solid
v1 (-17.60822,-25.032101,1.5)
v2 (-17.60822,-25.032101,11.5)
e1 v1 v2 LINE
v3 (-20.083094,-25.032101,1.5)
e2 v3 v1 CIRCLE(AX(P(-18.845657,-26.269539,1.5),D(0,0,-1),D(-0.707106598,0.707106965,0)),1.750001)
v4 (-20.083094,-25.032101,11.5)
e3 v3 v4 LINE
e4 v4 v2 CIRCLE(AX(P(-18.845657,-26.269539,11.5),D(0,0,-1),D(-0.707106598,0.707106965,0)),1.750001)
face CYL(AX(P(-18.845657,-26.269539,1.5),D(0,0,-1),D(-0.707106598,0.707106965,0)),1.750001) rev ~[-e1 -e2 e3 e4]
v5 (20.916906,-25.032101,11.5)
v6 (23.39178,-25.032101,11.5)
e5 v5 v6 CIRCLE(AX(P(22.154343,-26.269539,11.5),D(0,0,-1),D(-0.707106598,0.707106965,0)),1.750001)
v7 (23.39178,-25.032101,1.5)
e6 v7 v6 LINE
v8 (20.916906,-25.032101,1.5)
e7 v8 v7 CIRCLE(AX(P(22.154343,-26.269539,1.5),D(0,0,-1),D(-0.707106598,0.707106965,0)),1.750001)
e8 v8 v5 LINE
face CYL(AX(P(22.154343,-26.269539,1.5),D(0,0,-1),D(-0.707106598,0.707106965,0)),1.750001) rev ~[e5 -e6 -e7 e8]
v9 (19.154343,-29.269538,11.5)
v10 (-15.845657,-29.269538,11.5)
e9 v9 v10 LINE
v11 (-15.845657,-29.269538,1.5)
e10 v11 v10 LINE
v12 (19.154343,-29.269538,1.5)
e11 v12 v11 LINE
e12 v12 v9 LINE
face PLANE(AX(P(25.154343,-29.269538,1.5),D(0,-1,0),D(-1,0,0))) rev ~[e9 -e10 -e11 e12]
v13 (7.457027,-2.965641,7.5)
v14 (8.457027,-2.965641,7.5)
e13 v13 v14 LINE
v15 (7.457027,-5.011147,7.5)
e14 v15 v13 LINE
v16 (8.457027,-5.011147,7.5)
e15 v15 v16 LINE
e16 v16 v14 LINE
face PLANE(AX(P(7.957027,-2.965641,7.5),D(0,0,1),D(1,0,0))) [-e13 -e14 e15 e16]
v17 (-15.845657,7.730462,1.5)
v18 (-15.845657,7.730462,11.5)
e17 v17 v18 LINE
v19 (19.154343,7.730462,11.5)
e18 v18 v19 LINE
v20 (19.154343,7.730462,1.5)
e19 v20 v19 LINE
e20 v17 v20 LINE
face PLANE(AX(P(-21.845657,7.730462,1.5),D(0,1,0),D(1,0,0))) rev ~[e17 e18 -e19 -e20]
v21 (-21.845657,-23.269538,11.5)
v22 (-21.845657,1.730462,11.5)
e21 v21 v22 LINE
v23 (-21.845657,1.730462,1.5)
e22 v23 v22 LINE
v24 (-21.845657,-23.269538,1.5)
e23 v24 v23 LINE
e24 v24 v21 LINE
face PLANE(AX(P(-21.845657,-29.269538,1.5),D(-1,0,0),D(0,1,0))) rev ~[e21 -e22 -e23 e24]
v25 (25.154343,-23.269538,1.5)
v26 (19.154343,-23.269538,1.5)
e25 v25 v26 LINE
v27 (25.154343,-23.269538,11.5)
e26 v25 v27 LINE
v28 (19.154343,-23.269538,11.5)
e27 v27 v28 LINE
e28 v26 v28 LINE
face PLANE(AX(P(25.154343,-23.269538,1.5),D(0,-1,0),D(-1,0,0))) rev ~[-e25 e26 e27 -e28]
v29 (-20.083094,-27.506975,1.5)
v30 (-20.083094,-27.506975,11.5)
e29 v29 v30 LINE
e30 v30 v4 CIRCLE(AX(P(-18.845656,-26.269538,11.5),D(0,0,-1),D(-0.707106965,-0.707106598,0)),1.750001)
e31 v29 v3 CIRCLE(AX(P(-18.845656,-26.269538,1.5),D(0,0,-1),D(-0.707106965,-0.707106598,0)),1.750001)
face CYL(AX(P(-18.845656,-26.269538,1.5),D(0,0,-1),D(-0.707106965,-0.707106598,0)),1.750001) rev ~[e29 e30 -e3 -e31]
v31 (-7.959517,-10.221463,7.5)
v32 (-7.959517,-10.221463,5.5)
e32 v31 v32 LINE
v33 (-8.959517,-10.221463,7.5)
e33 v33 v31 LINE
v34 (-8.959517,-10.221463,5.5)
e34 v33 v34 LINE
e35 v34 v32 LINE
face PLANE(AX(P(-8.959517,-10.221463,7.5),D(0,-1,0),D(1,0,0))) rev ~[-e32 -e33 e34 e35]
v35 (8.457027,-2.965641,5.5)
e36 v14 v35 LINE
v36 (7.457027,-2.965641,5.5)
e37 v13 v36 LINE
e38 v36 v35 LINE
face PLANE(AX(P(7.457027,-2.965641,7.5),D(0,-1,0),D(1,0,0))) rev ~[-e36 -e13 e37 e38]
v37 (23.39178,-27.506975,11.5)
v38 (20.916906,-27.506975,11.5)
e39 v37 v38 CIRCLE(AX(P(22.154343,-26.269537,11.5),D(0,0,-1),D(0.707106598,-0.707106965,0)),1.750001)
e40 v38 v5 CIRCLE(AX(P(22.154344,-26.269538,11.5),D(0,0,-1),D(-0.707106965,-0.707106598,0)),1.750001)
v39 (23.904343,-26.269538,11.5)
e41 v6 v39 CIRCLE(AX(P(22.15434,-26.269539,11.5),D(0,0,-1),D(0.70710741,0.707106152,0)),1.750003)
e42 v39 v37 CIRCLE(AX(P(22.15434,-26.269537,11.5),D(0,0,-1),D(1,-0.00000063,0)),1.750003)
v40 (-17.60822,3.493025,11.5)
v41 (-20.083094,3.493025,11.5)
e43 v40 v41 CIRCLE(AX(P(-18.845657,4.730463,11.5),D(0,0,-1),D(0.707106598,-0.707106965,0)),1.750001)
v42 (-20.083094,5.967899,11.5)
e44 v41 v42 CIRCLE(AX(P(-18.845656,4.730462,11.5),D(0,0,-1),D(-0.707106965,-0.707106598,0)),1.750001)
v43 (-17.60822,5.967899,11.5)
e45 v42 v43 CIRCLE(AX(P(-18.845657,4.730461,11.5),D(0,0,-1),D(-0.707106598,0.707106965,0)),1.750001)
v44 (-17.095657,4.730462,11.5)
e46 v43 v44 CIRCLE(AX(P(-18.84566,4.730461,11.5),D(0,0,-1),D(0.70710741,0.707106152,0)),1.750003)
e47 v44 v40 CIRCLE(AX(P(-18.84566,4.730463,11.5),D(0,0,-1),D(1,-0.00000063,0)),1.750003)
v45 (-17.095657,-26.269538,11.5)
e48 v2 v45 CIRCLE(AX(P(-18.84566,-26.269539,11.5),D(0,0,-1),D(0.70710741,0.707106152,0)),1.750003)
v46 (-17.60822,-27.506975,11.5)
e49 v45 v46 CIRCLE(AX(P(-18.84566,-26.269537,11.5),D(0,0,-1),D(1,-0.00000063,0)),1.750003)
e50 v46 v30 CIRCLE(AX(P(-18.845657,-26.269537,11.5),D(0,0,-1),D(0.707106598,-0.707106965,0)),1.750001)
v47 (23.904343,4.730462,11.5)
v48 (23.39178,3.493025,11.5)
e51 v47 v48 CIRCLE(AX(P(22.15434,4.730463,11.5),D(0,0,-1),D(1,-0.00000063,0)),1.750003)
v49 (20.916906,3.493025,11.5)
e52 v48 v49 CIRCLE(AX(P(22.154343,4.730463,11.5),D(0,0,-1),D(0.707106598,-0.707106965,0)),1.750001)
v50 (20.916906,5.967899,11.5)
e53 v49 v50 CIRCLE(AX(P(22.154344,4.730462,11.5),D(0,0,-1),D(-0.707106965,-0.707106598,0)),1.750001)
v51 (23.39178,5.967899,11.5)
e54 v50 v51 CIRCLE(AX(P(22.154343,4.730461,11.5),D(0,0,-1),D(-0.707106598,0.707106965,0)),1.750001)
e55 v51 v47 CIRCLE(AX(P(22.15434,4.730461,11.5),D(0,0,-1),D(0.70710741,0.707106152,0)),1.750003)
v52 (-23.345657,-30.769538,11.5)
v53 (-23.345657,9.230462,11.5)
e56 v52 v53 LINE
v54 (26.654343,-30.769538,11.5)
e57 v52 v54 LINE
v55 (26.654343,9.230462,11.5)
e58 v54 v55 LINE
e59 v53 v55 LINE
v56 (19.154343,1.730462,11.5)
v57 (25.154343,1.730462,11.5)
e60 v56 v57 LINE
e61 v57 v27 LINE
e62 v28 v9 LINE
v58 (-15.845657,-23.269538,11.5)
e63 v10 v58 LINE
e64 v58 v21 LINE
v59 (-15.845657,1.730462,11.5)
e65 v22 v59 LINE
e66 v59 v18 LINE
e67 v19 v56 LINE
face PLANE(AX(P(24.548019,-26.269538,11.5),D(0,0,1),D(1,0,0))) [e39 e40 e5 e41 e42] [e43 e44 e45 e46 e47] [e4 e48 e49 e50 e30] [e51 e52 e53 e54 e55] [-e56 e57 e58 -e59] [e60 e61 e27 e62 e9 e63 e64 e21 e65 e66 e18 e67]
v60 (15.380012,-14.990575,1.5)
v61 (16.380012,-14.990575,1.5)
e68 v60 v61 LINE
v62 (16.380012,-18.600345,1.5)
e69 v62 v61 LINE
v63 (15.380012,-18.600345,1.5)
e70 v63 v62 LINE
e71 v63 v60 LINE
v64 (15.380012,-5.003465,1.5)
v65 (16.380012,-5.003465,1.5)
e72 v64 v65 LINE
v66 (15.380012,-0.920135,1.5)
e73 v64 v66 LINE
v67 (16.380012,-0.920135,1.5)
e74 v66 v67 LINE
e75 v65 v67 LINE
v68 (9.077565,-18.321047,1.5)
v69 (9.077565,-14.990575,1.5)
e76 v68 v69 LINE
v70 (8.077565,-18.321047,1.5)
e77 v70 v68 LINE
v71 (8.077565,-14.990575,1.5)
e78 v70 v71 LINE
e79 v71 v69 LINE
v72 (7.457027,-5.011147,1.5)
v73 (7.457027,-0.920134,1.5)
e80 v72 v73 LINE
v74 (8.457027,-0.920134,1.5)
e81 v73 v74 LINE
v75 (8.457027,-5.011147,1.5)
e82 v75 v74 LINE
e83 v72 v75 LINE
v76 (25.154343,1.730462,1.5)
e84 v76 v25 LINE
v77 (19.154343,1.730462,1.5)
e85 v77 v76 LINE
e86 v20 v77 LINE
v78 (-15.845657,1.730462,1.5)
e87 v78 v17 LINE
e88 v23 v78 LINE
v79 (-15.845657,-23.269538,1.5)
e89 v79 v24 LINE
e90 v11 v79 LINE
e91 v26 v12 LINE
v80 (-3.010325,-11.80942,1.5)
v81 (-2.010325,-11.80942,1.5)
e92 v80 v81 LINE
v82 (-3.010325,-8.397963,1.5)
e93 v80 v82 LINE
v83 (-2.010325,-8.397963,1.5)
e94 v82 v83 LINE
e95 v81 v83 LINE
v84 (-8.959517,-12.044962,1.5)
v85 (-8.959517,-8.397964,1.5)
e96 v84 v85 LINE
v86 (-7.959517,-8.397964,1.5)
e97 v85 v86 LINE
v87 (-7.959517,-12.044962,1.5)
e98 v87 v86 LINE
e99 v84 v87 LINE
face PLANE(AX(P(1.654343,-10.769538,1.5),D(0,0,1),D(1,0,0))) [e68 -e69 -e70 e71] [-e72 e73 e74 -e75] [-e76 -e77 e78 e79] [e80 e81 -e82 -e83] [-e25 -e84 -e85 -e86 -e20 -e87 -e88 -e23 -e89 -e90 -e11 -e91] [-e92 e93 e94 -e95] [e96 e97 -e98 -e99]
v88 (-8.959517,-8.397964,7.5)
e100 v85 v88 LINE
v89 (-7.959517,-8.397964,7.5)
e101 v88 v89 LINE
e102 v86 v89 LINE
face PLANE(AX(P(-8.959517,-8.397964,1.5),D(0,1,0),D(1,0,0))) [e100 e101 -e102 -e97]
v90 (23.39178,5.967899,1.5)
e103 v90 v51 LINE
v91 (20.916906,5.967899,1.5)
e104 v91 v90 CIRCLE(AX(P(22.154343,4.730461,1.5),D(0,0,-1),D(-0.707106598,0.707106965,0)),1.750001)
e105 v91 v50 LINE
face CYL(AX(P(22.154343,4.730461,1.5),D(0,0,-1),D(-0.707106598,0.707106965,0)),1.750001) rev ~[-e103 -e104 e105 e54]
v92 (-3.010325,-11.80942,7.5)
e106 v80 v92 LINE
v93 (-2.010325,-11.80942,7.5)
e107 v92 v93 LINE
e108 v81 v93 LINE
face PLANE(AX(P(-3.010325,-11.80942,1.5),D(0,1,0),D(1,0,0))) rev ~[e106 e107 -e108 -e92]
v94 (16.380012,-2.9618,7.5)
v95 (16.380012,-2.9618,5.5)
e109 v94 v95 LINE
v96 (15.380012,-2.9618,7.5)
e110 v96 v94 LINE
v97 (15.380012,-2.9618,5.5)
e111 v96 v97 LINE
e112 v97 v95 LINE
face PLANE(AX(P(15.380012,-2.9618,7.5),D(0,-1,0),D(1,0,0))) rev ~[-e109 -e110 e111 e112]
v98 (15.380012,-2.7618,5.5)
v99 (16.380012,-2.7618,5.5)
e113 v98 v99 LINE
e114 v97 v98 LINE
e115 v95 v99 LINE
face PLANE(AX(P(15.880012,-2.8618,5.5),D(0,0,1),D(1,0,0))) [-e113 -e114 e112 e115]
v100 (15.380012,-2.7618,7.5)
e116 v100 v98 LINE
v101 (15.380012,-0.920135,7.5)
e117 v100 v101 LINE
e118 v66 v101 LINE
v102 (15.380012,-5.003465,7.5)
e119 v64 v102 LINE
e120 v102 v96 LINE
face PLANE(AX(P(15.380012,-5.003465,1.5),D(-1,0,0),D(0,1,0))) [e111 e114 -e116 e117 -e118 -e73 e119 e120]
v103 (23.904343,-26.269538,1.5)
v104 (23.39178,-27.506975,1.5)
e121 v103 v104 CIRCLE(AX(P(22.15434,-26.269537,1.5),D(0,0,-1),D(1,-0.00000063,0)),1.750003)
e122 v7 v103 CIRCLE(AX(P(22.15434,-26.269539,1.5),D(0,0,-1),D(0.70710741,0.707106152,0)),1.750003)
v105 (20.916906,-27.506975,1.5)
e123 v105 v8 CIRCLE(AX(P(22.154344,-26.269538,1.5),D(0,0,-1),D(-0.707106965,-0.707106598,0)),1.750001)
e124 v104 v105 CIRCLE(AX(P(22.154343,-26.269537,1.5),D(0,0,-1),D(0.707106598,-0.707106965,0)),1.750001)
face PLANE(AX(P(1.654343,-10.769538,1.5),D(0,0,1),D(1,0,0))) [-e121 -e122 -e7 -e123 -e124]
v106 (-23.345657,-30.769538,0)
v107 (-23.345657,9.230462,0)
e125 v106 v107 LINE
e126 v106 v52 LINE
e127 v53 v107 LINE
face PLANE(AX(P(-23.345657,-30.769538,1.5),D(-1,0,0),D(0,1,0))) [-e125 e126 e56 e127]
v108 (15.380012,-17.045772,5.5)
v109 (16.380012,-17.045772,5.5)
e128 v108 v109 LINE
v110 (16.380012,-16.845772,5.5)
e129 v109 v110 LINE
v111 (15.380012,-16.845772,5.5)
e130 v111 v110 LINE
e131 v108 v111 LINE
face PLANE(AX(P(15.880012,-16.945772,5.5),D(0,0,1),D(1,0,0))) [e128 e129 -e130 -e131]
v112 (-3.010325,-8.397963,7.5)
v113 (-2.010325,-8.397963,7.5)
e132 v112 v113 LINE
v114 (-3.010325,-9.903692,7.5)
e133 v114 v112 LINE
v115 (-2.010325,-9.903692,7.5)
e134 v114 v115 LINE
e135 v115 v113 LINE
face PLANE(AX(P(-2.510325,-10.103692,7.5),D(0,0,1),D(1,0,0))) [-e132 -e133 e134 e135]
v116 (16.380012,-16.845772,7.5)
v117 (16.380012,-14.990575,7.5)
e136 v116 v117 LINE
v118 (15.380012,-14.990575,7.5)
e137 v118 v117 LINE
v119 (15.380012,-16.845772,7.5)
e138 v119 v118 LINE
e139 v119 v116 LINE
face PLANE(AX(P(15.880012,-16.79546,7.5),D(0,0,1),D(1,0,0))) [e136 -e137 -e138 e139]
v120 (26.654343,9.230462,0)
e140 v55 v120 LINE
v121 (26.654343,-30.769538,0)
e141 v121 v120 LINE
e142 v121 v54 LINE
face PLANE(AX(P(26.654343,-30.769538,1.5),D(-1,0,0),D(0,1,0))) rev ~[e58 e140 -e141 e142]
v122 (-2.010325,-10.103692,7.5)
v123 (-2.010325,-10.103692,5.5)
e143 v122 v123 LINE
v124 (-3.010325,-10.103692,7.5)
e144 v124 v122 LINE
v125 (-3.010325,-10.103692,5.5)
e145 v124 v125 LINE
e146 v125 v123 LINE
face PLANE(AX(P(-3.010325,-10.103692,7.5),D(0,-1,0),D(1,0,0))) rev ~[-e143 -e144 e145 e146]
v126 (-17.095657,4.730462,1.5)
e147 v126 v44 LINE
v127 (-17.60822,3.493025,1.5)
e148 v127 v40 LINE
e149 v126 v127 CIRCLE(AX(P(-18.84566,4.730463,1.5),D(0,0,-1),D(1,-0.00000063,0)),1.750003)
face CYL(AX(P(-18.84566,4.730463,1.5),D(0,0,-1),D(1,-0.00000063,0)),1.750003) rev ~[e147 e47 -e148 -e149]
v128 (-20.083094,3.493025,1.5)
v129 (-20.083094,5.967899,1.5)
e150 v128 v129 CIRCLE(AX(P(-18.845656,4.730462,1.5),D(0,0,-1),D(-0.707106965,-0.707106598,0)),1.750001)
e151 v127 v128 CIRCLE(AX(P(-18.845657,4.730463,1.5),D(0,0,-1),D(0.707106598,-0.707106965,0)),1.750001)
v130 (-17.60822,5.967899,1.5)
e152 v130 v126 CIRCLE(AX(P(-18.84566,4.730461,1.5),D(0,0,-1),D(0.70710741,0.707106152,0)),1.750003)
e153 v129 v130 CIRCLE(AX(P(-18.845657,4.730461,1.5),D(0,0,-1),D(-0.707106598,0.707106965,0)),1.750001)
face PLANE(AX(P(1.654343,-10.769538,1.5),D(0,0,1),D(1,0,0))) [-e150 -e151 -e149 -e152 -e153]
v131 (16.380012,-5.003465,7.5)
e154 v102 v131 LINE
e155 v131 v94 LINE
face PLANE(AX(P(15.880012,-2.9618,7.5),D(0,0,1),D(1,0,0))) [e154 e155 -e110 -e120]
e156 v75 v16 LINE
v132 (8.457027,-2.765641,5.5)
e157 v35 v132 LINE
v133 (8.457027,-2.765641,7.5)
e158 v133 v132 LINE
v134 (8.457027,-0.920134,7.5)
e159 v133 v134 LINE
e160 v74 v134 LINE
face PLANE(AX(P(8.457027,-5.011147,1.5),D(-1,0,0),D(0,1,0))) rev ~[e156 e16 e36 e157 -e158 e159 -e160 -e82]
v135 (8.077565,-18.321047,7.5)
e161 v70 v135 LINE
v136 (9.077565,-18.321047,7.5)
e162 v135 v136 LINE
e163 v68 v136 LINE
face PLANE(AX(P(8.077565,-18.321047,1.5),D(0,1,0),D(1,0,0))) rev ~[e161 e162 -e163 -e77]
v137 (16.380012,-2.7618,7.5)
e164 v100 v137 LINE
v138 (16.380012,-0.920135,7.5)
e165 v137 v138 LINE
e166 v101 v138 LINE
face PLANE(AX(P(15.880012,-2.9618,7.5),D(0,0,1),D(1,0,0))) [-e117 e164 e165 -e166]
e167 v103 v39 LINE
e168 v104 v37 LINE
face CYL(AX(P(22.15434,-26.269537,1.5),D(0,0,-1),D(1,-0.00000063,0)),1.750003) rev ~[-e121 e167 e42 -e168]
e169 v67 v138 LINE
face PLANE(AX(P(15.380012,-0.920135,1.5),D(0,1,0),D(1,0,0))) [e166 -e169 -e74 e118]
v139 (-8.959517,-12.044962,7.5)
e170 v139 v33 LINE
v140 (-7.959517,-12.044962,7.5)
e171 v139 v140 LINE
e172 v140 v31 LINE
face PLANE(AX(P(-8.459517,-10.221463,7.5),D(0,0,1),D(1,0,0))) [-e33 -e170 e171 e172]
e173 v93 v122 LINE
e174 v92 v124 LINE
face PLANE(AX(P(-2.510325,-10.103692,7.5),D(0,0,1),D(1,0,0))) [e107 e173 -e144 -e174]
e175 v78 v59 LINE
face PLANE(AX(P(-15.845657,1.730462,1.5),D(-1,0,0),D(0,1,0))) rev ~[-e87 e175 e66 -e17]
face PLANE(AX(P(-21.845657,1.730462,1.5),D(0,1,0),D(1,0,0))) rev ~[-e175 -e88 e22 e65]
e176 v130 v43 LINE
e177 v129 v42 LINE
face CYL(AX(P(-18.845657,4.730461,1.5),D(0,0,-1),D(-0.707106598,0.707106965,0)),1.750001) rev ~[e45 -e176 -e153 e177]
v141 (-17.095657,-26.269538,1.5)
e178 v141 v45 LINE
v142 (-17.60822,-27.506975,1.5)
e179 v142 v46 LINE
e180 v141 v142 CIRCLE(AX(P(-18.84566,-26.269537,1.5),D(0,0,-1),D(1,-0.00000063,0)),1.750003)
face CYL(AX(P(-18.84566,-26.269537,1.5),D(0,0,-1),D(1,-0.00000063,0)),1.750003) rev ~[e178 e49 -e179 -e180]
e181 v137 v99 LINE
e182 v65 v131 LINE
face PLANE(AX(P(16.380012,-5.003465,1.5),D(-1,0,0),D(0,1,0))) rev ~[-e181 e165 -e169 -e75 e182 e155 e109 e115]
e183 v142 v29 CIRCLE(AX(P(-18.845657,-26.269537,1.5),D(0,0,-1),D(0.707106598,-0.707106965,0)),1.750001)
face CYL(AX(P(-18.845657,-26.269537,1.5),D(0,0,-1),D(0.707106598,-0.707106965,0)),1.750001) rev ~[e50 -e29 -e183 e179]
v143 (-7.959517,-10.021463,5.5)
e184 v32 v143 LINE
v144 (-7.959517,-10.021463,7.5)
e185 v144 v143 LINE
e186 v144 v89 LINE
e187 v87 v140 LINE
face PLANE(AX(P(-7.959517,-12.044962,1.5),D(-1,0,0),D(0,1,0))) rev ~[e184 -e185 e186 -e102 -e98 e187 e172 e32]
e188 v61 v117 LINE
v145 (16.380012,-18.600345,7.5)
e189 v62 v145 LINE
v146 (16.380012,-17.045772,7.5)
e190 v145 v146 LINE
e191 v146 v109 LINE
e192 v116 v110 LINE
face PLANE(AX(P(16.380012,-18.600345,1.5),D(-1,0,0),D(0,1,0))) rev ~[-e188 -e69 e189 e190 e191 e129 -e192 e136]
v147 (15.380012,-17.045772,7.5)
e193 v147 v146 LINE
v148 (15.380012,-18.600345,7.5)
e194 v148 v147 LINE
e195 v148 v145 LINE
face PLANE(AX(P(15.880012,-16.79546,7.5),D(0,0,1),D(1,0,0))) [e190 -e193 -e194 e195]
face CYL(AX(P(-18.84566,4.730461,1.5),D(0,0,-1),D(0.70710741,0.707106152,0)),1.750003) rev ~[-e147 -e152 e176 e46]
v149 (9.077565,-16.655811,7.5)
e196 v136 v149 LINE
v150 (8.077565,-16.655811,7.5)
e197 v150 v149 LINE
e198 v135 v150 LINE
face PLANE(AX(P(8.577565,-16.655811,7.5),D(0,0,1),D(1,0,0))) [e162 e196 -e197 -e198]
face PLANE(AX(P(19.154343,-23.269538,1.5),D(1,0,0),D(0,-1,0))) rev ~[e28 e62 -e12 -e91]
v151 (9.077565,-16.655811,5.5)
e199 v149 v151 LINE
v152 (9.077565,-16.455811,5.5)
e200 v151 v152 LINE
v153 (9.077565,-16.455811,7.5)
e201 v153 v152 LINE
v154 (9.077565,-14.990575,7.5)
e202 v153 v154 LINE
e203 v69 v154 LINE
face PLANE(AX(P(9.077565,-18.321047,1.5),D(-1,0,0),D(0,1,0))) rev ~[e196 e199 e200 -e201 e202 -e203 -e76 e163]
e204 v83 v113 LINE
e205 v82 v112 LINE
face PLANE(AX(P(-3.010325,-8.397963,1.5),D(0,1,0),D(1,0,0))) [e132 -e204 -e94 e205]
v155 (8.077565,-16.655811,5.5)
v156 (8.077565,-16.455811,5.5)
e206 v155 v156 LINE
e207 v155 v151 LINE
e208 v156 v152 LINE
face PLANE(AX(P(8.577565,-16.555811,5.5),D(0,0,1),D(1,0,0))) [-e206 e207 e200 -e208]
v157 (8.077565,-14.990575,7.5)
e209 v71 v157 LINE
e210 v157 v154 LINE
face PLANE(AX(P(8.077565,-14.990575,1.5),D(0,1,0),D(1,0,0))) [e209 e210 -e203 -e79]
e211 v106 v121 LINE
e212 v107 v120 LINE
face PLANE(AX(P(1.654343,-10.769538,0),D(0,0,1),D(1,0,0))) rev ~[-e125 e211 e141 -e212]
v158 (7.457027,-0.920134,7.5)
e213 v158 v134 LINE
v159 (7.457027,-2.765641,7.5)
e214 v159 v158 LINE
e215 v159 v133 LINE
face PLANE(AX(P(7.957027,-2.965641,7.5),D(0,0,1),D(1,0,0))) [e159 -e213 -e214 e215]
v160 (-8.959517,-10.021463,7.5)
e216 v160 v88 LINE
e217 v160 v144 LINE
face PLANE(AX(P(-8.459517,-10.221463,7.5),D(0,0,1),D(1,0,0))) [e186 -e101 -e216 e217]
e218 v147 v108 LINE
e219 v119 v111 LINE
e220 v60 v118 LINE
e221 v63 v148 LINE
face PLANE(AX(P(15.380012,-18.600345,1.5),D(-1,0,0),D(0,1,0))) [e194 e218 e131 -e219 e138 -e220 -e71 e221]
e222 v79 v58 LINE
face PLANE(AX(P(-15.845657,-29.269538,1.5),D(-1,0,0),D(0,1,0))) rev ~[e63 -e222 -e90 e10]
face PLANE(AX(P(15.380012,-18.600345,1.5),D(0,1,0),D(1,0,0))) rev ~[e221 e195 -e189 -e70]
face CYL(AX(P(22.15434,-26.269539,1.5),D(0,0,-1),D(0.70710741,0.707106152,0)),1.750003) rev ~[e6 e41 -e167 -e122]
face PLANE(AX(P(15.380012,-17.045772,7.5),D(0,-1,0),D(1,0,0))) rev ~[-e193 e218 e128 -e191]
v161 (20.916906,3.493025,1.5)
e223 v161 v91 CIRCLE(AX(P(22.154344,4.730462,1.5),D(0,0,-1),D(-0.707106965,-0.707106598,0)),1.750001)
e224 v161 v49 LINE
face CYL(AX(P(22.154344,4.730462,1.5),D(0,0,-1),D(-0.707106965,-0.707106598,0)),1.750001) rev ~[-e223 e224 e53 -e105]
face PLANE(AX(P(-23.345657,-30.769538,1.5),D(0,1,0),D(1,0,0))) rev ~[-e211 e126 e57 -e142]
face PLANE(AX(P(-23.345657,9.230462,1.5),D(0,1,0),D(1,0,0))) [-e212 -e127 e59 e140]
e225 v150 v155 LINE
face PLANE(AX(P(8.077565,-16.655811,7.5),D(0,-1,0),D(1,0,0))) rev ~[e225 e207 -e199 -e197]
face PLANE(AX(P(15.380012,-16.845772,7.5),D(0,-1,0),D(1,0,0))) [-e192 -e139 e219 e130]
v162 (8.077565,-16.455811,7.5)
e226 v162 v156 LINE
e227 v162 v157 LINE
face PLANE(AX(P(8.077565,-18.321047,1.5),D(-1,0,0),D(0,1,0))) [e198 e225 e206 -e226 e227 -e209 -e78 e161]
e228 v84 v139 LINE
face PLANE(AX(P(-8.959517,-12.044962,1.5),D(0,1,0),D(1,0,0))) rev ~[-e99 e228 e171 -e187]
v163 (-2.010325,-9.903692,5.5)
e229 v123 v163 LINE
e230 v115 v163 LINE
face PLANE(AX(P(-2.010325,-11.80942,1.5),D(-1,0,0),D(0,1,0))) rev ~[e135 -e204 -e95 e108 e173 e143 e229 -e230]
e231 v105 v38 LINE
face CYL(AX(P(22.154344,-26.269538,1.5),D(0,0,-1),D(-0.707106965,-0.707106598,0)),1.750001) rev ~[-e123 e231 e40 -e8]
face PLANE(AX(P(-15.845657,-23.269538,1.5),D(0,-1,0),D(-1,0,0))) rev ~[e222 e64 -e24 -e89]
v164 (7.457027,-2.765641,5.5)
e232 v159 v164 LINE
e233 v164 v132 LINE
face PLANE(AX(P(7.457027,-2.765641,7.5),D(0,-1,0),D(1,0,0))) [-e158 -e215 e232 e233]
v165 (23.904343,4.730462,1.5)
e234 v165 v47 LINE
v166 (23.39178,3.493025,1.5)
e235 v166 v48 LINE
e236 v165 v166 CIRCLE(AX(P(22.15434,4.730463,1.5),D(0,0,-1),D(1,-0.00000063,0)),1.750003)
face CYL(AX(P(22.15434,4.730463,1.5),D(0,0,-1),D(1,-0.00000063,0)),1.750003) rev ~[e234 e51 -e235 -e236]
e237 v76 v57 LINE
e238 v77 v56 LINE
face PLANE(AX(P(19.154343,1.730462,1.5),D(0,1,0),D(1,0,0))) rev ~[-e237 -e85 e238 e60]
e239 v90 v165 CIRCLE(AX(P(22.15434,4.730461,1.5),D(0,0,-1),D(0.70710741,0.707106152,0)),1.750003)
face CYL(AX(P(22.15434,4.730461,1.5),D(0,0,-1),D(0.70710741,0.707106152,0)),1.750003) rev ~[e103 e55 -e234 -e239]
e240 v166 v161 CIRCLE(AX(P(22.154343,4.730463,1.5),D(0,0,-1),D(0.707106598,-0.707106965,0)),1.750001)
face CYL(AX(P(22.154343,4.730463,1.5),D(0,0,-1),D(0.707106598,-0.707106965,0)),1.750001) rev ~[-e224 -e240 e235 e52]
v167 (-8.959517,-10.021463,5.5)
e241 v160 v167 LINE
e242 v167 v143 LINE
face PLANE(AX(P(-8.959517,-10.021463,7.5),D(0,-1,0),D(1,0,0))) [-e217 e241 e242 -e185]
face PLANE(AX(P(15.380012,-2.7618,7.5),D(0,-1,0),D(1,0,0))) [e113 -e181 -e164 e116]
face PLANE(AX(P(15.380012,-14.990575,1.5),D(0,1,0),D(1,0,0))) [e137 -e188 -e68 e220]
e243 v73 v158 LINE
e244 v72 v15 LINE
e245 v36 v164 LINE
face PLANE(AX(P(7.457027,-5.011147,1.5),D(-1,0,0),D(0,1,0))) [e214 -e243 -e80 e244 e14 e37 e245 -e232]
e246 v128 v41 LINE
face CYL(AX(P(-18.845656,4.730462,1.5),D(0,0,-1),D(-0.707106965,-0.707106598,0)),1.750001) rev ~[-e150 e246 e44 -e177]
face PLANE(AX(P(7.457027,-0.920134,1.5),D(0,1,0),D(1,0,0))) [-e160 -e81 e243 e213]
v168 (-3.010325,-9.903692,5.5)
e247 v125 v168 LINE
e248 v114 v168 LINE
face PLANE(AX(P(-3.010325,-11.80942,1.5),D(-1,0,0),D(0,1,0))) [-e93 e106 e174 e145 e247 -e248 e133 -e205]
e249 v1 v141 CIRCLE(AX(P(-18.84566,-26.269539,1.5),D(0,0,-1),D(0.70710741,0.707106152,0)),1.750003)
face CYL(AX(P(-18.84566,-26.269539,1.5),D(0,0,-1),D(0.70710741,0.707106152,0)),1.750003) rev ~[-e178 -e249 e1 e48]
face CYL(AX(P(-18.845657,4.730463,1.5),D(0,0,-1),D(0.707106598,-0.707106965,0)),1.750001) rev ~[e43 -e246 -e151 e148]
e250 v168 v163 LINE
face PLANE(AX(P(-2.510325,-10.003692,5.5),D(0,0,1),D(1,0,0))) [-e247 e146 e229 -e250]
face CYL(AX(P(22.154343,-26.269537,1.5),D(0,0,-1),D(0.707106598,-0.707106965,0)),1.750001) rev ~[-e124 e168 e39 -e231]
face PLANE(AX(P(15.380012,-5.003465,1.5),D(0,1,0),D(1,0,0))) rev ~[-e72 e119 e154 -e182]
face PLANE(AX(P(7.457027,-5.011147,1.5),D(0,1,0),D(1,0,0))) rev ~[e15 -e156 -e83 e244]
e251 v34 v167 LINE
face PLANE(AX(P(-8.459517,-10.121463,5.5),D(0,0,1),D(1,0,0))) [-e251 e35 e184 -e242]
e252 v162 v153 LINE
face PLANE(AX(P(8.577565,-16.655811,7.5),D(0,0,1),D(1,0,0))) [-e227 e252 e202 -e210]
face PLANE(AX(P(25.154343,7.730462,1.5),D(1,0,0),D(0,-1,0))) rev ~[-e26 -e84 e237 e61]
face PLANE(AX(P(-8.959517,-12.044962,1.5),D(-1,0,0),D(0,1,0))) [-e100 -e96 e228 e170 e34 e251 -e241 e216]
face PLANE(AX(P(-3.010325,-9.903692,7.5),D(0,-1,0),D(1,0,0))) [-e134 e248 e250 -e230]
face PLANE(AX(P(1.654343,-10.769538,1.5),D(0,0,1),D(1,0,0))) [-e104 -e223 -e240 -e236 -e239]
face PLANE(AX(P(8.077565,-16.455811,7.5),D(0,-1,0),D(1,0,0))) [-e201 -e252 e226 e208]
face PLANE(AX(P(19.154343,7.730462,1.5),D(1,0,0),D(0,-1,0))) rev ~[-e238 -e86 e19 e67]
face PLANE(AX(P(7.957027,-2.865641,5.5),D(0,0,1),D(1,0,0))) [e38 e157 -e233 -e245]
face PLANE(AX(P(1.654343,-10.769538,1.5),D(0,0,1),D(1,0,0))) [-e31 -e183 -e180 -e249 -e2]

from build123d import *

# Parameters (mm, degrees)
F0_W      = 50
F0_H      = 40
F1_DEPTH  = 1.5
F2_W      = 50
F2_H      = 40
F3_DEPTH  = 10
F5_DEPTH  = 10
F7_DEPTH  = 10
F9_DEPTH  = 10
F11_DEPTH = 10
F14_W     = 1
F14_H     = 4.08333
F15_DEPTH = 6
F16_W     = 1
F16_H     = 0.2
F17_DEPTH = 2
F18_W     = 1
F18_H     = 3.60977
F19_DEPTH = 6
F20_W     = 1
F20_H     = 0.2
F21_DEPTH = 2
F22_W     = 1
F22_H     = 4.091013
F23_DEPTH = 6
F24_W     = 1
F24_H     = 0.2
F25_DEPTH = 2
F26_W     = 1
F26_H     = 3.330472
F27_DEPTH = 6
F28_W     = 1
F28_H     = 0.2
F29_DEPTH = 2
F30_W     = 1
F30_H     = 3.411457
F31_DEPTH = 6
F32_W     = 1
F32_H     = 0.2
F33_DEPTH = 2
F34_W     = 1
F34_H     = 3.646998
F35_DEPTH = 6
F36_W     = 1
F36_H     = 0.2
F37_DEPTH = 2


with BuildPart() as f1:
    # F0 (on Top) → F1 (new body)
    with BuildSketch(Plane.XY):
        with Locations((1.654343, -10.769538)):
            Rectangle(F0_W, F0_H)
    extrude(amount=F1_DEPTH)

    # F2 (on face) → F3 (join)
    with BuildSketch(Plane.XY.offset(1.5)):
        with Locations((1.654343, -10.769538)):
            Rectangle(F2_W, F2_H)
        Polygon((-21.845657, -29.269538), (-21.845657, 7.730462), (19.154343, 7.730462), (25.154343, 7.730462), (25.154343, 1.730462), (25.154343, -29.269538), align=None, mode=Mode.SUBTRACT)
    extrude(amount=F3_DEPTH)

    # F4 (on face) → F5 (join)
    with BuildSketch(Plane.XY.offset(1.5)):
        with BuildLine():
            Line((-20.083094, 5.967899), (-21.845657, 7.730462))
            Line((-21.845657, 7.730462), (-21.845657, 1.730462))
            Line((-21.845657, 1.730462), (-20.083094, 3.493025))
            ThreePointArc((-20.083094, 3.493025), (-20.595657, 4.730462), (-20.083094, 5.967899))
        make_face()
        with BuildLine():
            Line((-15.845657, 7.730462), (-21.845657, 7.730462))
            Line((-21.845657, 7.730462), (-20.083094, 5.967899))
            ThreePointArc((-20.083094, 5.967899), (-18.845657, 6.480462), (-17.60822, 5.967899))
            Line((-17.60822, 5.967899), (-15.845657, 7.730462))
        make_face()
        with BuildLine():
            Line((-15.845657, 1.730462), (-15.845657, 7.730462))
            Line((-15.845657, 7.730462), (-17.60822, 5.967899))
            ThreePointArc((-17.60822, 5.967899), (-17.228868, 5.400158), (-17.095657, 4.730462))
            ThreePointArc((-17.095657, 4.730462), (-17.228868, 4.060766), (-17.60822, 3.493025))
            Line((-17.60822, 3.493025), (-15.845657, 1.730462))
        make_face()
        with BuildLine():
            Line((-20.083094, 3.493025), (-21.845657, 1.730462))
            Line((-21.845657, 1.730462), (-15.845657, 1.730462))
            Line((-15.845657, 1.730462), (-17.60822, 3.493025))
            ThreePointArc((-17.60822, 3.493025), (-18.845657, 2.980462), (-20.083094, 3.493025))
        make_face()
    extrude(amount=F5_DEPTH)

    # F6 (on face) → F7 (join)
    with BuildSketch(Plane.XY.offset(1.5)):
        with BuildLine():
            Line((-20.083094, -27.506975), (-21.845657, -29.269538))
            Line((-21.845657, -29.269538), (-15.845657, -29.269538))
            Line((-15.845657, -29.269538), (-17.60822, -27.506975))
            ThreePointArc((-17.60822, -27.506975), (-18.845657, -28.019538), (-20.083094, -27.506975))
        make_face()
        with BuildLine():
            Line((-21.845657, -23.269538), (-21.845657, -29.269538))
            Line((-21.845657, -29.269538), (-20.083094, -27.506975))
            ThreePointArc((-20.083094, -27.506975), (-20.595657, -26.269538), (-20.083094, -25.032101))
            Line((-20.083094, -25.032101), (-21.845657, -23.269538))
        make_face()
        with BuildLine():
            Line((-17.60822, -27.506975), (-15.845657, -29.269538))
            Line((-15.845657, -29.269538), (-15.845657, -23.269538))
            Line((-15.845657, -23.269538), (-17.60822, -25.032101))
            ThreePointArc((-17.60822, -25.032101), (-17.228868, -25.599842), (-17.095657, -26.269538))
            ThreePointArc((-17.095657, -26.269538), (-17.228868, -26.939234), (-17.60822, -27.506975))
        make_face()
        with BuildLine():
            Line((-15.845657, -23.269538), (-21.845657, -23.269538))
            Line((-21.845657, -23.269538), (-20.083094, -25.032101))
            ThreePointArc((-20.083094, -25.032101), (-18.845657, -24.519538), (-17.60822, -25.032101))
            Line((-17.60822, -25.032101), (-15.845657, -23.269538))
        make_face()
    extrude(amount=F7_DEPTH)

    # F8 (on face) → F9 (join)
    with BuildSketch(Plane.XY.offset(1.5)):
        with BuildLine():
            Line((23.39178, 5.967899), (25.154343, 7.730462))
            Line((25.154343, 7.730462), (19.154343, 7.730462))
            Line((19.154343, 7.730462), (20.916906, 5.967899))
            ThreePointArc((20.916906, 5.967899), (22.154343, 6.480462), (23.39178, 5.967899))
        make_face()
        with BuildLine():
            Line((25.154343, 1.730462), (25.154343, 7.730462))
            Line((25.154343, 7.730462), (23.39178, 5.967899))
            ThreePointArc((23.39178, 5.967899), (23.771132, 5.400158), (23.904343, 4.730462))
            ThreePointArc((23.904343, 4.730462), (23.771132, 4.060766), (23.39178, 3.493025))
            Line((23.39178, 3.493025), (25.154343, 1.730462))
        make_face()
        with BuildLine():
            Line((20.916906, 5.967899), (19.154343, 7.730462))
            Line((19.154343, 7.730462), (19.154343, 1.730462))
            Line((19.154343, 1.730462), (20.916906, 3.493025))
            ThreePointArc((20.916906, 3.493025), (20.404343, 4.730462), (20.916906, 5.967899))
        make_face()
        with BuildLine():
            Line((19.154343, 1.730462), (25.154343, 1.730462))
            Line((25.154343, 1.730462), (23.39178, 3.493025))
            ThreePointArc((23.39178, 3.493025), (22.154343, 2.980462), (20.916906, 3.493025))
            Line((20.916906, 3.493025), (19.154343, 1.730462))
        make_face()
    extrude(amount=F9_DEPTH)

    # F10 (on face) → F11 (join)
    with BuildSketch(Plane.XY.offset(1.5)):
        with BuildLine():
            Line((23.39178, -27.506975), (25.154343, -29.269538))
            Line((25.154343, -29.269538), (25.154343, -23.269538))
            Line((25.154343, -23.269538), (23.39178, -25.032101))
            ThreePointArc((23.39178, -25.032101), (23.771132, -25.599842), (23.904343, -26.269538))
            ThreePointArc((23.904343, -26.269538), (23.771132, -26.939234), (23.39178, -27.506975))
        make_face()
        with BuildLine():
            Line((19.154343, -29.269538), (25.154343, -29.269538))
            Line((25.154343, -29.269538), (23.39178, -27.506975))
            ThreePointArc((23.39178, -27.506975), (22.154343, -28.019538), (20.916906, -27.506975))
            Line((20.916906, -27.506975), (19.154343, -29.269538))
        make_face()
        with BuildLine():
            Line((19.154343, -23.269538), (19.154343, -29.269538))
            Line((19.154343, -29.269538), (20.916906, -27.506975))
            ThreePointArc((20.916906, -27.506975), (20.404343, -26.269538), (20.916906, -25.032101))
            Line((20.916906, -25.032101), (19.154343, -23.269538))
        make_face()
        with BuildLine():
            Line((23.39178, -25.032101), (25.154343, -23.269538))
            Line((25.154343, -23.269538), (19.154343, -23.269538))
            Line((19.154343, -23.269538), (20.916906, -25.032101))
            ThreePointArc((20.916906, -25.032101), (22.154343, -24.519538), (23.39178, -25.032101))
        make_face()
    extrude(amount=F11_DEPTH)

    # F14 (on face) → F15 (join)
    with BuildSketch(Plane.XY.offset(1.5)):
        with Locations((15.880012, -2.9618)):
            Rectangle(F14_W, F14_H)
    extrude(amount=F15_DEPTH)

    # F16 (on face) → F17 (cut)
    with BuildSketch(Plane.XY.offset(7.5)):
        with Locations((15.880012, -2.8618)):
            Rectangle(F16_W, F16_H)
    extrude(amount=-F17_DEPTH, mode=Mode.SUBTRACT)

    # F18 (on face) → F19 (join)
    with BuildSketch(Plane.XY.offset(1.5)):
        with Locations((15.880012, -16.79546)):
            Rectangle(F18_W, F18_H)
    extrude(amount=F19_DEPTH)

    # F20 (on face) → F21 (cut)
    with BuildSketch(Plane.XY.offset(7.5)):
        with Locations((15.880012, -16.945772)):
            Rectangle(F20_W, F20_H)
    extrude(amount=-F21_DEPTH, mode=Mode.SUBTRACT)

    # F22 (on face) → F23 (join)
    with BuildSketch(Plane.XY.offset(1.5)):
        with Locations((7.957027, -2.965641)):
            Rectangle(F22_W, F22_H)
    extrude(amount=F23_DEPTH)

    # F24 (on face) → F25 (cut)
    with BuildSketch(Plane.XY.offset(7.5)):
        with Locations((7.957027, -2.865641)):
            Rectangle(F24_W, F24_H)
    extrude(amount=-F25_DEPTH, mode=Mode.SUBTRACT)

    # F26 (on face) → F27 (join)
    with BuildSketch(Plane.XY.offset(1.5)):
        with Locations((8.577565, -16.655811)):
            Rectangle(F26_W, F26_H)
    extrude(amount=F27_DEPTH)

    # F28 (on face) → F29 (cut)
    with BuildSketch(Plane.XY.offset(7.5)):
        with Locations((8.577565, -16.555811)):
            Rectangle(F28_W, F28_H)
    extrude(amount=-F29_DEPTH, mode=Mode.SUBTRACT)

    # F30 (on face) → F31 (join)
    with BuildSketch(Plane.XY.offset(1.5)):
        with Locations((-2.510325, -10.103692)):
            Rectangle(F30_W, F30_H)
    extrude(amount=F31_DEPTH)

    # F32 (on face) → F33 (cut)
    with BuildSketch(Plane.XY.offset(7.5)):
        with Locations((-2.510325, -10.003692)):
            Rectangle(F32_W, F32_H)
    extrude(amount=-F33_DEPTH, mode=Mode.SUBTRACT)

    # F34 (on face) → F35 (join)
    with BuildSketch(Plane.XY.offset(1.5)):
        with Locations((-8.459517, -10.221463)):
            Rectangle(F34_W, F34_H)
    extrude(amount=F35_DEPTH)

    # F36 (on face) → F37 (cut)
    with BuildSketch(Plane.XY.offset(7.5)):
        with Locations((-8.459517, -10.121463)):
            Rectangle(F36_W, F36_H)
    extrude(amount=-F37_DEPTH, mode=Mode.SUBTRACT)


with BuildPart() as f12_1:
    # F12: copy of F1
    add(f1.part)


solid = f1.part
